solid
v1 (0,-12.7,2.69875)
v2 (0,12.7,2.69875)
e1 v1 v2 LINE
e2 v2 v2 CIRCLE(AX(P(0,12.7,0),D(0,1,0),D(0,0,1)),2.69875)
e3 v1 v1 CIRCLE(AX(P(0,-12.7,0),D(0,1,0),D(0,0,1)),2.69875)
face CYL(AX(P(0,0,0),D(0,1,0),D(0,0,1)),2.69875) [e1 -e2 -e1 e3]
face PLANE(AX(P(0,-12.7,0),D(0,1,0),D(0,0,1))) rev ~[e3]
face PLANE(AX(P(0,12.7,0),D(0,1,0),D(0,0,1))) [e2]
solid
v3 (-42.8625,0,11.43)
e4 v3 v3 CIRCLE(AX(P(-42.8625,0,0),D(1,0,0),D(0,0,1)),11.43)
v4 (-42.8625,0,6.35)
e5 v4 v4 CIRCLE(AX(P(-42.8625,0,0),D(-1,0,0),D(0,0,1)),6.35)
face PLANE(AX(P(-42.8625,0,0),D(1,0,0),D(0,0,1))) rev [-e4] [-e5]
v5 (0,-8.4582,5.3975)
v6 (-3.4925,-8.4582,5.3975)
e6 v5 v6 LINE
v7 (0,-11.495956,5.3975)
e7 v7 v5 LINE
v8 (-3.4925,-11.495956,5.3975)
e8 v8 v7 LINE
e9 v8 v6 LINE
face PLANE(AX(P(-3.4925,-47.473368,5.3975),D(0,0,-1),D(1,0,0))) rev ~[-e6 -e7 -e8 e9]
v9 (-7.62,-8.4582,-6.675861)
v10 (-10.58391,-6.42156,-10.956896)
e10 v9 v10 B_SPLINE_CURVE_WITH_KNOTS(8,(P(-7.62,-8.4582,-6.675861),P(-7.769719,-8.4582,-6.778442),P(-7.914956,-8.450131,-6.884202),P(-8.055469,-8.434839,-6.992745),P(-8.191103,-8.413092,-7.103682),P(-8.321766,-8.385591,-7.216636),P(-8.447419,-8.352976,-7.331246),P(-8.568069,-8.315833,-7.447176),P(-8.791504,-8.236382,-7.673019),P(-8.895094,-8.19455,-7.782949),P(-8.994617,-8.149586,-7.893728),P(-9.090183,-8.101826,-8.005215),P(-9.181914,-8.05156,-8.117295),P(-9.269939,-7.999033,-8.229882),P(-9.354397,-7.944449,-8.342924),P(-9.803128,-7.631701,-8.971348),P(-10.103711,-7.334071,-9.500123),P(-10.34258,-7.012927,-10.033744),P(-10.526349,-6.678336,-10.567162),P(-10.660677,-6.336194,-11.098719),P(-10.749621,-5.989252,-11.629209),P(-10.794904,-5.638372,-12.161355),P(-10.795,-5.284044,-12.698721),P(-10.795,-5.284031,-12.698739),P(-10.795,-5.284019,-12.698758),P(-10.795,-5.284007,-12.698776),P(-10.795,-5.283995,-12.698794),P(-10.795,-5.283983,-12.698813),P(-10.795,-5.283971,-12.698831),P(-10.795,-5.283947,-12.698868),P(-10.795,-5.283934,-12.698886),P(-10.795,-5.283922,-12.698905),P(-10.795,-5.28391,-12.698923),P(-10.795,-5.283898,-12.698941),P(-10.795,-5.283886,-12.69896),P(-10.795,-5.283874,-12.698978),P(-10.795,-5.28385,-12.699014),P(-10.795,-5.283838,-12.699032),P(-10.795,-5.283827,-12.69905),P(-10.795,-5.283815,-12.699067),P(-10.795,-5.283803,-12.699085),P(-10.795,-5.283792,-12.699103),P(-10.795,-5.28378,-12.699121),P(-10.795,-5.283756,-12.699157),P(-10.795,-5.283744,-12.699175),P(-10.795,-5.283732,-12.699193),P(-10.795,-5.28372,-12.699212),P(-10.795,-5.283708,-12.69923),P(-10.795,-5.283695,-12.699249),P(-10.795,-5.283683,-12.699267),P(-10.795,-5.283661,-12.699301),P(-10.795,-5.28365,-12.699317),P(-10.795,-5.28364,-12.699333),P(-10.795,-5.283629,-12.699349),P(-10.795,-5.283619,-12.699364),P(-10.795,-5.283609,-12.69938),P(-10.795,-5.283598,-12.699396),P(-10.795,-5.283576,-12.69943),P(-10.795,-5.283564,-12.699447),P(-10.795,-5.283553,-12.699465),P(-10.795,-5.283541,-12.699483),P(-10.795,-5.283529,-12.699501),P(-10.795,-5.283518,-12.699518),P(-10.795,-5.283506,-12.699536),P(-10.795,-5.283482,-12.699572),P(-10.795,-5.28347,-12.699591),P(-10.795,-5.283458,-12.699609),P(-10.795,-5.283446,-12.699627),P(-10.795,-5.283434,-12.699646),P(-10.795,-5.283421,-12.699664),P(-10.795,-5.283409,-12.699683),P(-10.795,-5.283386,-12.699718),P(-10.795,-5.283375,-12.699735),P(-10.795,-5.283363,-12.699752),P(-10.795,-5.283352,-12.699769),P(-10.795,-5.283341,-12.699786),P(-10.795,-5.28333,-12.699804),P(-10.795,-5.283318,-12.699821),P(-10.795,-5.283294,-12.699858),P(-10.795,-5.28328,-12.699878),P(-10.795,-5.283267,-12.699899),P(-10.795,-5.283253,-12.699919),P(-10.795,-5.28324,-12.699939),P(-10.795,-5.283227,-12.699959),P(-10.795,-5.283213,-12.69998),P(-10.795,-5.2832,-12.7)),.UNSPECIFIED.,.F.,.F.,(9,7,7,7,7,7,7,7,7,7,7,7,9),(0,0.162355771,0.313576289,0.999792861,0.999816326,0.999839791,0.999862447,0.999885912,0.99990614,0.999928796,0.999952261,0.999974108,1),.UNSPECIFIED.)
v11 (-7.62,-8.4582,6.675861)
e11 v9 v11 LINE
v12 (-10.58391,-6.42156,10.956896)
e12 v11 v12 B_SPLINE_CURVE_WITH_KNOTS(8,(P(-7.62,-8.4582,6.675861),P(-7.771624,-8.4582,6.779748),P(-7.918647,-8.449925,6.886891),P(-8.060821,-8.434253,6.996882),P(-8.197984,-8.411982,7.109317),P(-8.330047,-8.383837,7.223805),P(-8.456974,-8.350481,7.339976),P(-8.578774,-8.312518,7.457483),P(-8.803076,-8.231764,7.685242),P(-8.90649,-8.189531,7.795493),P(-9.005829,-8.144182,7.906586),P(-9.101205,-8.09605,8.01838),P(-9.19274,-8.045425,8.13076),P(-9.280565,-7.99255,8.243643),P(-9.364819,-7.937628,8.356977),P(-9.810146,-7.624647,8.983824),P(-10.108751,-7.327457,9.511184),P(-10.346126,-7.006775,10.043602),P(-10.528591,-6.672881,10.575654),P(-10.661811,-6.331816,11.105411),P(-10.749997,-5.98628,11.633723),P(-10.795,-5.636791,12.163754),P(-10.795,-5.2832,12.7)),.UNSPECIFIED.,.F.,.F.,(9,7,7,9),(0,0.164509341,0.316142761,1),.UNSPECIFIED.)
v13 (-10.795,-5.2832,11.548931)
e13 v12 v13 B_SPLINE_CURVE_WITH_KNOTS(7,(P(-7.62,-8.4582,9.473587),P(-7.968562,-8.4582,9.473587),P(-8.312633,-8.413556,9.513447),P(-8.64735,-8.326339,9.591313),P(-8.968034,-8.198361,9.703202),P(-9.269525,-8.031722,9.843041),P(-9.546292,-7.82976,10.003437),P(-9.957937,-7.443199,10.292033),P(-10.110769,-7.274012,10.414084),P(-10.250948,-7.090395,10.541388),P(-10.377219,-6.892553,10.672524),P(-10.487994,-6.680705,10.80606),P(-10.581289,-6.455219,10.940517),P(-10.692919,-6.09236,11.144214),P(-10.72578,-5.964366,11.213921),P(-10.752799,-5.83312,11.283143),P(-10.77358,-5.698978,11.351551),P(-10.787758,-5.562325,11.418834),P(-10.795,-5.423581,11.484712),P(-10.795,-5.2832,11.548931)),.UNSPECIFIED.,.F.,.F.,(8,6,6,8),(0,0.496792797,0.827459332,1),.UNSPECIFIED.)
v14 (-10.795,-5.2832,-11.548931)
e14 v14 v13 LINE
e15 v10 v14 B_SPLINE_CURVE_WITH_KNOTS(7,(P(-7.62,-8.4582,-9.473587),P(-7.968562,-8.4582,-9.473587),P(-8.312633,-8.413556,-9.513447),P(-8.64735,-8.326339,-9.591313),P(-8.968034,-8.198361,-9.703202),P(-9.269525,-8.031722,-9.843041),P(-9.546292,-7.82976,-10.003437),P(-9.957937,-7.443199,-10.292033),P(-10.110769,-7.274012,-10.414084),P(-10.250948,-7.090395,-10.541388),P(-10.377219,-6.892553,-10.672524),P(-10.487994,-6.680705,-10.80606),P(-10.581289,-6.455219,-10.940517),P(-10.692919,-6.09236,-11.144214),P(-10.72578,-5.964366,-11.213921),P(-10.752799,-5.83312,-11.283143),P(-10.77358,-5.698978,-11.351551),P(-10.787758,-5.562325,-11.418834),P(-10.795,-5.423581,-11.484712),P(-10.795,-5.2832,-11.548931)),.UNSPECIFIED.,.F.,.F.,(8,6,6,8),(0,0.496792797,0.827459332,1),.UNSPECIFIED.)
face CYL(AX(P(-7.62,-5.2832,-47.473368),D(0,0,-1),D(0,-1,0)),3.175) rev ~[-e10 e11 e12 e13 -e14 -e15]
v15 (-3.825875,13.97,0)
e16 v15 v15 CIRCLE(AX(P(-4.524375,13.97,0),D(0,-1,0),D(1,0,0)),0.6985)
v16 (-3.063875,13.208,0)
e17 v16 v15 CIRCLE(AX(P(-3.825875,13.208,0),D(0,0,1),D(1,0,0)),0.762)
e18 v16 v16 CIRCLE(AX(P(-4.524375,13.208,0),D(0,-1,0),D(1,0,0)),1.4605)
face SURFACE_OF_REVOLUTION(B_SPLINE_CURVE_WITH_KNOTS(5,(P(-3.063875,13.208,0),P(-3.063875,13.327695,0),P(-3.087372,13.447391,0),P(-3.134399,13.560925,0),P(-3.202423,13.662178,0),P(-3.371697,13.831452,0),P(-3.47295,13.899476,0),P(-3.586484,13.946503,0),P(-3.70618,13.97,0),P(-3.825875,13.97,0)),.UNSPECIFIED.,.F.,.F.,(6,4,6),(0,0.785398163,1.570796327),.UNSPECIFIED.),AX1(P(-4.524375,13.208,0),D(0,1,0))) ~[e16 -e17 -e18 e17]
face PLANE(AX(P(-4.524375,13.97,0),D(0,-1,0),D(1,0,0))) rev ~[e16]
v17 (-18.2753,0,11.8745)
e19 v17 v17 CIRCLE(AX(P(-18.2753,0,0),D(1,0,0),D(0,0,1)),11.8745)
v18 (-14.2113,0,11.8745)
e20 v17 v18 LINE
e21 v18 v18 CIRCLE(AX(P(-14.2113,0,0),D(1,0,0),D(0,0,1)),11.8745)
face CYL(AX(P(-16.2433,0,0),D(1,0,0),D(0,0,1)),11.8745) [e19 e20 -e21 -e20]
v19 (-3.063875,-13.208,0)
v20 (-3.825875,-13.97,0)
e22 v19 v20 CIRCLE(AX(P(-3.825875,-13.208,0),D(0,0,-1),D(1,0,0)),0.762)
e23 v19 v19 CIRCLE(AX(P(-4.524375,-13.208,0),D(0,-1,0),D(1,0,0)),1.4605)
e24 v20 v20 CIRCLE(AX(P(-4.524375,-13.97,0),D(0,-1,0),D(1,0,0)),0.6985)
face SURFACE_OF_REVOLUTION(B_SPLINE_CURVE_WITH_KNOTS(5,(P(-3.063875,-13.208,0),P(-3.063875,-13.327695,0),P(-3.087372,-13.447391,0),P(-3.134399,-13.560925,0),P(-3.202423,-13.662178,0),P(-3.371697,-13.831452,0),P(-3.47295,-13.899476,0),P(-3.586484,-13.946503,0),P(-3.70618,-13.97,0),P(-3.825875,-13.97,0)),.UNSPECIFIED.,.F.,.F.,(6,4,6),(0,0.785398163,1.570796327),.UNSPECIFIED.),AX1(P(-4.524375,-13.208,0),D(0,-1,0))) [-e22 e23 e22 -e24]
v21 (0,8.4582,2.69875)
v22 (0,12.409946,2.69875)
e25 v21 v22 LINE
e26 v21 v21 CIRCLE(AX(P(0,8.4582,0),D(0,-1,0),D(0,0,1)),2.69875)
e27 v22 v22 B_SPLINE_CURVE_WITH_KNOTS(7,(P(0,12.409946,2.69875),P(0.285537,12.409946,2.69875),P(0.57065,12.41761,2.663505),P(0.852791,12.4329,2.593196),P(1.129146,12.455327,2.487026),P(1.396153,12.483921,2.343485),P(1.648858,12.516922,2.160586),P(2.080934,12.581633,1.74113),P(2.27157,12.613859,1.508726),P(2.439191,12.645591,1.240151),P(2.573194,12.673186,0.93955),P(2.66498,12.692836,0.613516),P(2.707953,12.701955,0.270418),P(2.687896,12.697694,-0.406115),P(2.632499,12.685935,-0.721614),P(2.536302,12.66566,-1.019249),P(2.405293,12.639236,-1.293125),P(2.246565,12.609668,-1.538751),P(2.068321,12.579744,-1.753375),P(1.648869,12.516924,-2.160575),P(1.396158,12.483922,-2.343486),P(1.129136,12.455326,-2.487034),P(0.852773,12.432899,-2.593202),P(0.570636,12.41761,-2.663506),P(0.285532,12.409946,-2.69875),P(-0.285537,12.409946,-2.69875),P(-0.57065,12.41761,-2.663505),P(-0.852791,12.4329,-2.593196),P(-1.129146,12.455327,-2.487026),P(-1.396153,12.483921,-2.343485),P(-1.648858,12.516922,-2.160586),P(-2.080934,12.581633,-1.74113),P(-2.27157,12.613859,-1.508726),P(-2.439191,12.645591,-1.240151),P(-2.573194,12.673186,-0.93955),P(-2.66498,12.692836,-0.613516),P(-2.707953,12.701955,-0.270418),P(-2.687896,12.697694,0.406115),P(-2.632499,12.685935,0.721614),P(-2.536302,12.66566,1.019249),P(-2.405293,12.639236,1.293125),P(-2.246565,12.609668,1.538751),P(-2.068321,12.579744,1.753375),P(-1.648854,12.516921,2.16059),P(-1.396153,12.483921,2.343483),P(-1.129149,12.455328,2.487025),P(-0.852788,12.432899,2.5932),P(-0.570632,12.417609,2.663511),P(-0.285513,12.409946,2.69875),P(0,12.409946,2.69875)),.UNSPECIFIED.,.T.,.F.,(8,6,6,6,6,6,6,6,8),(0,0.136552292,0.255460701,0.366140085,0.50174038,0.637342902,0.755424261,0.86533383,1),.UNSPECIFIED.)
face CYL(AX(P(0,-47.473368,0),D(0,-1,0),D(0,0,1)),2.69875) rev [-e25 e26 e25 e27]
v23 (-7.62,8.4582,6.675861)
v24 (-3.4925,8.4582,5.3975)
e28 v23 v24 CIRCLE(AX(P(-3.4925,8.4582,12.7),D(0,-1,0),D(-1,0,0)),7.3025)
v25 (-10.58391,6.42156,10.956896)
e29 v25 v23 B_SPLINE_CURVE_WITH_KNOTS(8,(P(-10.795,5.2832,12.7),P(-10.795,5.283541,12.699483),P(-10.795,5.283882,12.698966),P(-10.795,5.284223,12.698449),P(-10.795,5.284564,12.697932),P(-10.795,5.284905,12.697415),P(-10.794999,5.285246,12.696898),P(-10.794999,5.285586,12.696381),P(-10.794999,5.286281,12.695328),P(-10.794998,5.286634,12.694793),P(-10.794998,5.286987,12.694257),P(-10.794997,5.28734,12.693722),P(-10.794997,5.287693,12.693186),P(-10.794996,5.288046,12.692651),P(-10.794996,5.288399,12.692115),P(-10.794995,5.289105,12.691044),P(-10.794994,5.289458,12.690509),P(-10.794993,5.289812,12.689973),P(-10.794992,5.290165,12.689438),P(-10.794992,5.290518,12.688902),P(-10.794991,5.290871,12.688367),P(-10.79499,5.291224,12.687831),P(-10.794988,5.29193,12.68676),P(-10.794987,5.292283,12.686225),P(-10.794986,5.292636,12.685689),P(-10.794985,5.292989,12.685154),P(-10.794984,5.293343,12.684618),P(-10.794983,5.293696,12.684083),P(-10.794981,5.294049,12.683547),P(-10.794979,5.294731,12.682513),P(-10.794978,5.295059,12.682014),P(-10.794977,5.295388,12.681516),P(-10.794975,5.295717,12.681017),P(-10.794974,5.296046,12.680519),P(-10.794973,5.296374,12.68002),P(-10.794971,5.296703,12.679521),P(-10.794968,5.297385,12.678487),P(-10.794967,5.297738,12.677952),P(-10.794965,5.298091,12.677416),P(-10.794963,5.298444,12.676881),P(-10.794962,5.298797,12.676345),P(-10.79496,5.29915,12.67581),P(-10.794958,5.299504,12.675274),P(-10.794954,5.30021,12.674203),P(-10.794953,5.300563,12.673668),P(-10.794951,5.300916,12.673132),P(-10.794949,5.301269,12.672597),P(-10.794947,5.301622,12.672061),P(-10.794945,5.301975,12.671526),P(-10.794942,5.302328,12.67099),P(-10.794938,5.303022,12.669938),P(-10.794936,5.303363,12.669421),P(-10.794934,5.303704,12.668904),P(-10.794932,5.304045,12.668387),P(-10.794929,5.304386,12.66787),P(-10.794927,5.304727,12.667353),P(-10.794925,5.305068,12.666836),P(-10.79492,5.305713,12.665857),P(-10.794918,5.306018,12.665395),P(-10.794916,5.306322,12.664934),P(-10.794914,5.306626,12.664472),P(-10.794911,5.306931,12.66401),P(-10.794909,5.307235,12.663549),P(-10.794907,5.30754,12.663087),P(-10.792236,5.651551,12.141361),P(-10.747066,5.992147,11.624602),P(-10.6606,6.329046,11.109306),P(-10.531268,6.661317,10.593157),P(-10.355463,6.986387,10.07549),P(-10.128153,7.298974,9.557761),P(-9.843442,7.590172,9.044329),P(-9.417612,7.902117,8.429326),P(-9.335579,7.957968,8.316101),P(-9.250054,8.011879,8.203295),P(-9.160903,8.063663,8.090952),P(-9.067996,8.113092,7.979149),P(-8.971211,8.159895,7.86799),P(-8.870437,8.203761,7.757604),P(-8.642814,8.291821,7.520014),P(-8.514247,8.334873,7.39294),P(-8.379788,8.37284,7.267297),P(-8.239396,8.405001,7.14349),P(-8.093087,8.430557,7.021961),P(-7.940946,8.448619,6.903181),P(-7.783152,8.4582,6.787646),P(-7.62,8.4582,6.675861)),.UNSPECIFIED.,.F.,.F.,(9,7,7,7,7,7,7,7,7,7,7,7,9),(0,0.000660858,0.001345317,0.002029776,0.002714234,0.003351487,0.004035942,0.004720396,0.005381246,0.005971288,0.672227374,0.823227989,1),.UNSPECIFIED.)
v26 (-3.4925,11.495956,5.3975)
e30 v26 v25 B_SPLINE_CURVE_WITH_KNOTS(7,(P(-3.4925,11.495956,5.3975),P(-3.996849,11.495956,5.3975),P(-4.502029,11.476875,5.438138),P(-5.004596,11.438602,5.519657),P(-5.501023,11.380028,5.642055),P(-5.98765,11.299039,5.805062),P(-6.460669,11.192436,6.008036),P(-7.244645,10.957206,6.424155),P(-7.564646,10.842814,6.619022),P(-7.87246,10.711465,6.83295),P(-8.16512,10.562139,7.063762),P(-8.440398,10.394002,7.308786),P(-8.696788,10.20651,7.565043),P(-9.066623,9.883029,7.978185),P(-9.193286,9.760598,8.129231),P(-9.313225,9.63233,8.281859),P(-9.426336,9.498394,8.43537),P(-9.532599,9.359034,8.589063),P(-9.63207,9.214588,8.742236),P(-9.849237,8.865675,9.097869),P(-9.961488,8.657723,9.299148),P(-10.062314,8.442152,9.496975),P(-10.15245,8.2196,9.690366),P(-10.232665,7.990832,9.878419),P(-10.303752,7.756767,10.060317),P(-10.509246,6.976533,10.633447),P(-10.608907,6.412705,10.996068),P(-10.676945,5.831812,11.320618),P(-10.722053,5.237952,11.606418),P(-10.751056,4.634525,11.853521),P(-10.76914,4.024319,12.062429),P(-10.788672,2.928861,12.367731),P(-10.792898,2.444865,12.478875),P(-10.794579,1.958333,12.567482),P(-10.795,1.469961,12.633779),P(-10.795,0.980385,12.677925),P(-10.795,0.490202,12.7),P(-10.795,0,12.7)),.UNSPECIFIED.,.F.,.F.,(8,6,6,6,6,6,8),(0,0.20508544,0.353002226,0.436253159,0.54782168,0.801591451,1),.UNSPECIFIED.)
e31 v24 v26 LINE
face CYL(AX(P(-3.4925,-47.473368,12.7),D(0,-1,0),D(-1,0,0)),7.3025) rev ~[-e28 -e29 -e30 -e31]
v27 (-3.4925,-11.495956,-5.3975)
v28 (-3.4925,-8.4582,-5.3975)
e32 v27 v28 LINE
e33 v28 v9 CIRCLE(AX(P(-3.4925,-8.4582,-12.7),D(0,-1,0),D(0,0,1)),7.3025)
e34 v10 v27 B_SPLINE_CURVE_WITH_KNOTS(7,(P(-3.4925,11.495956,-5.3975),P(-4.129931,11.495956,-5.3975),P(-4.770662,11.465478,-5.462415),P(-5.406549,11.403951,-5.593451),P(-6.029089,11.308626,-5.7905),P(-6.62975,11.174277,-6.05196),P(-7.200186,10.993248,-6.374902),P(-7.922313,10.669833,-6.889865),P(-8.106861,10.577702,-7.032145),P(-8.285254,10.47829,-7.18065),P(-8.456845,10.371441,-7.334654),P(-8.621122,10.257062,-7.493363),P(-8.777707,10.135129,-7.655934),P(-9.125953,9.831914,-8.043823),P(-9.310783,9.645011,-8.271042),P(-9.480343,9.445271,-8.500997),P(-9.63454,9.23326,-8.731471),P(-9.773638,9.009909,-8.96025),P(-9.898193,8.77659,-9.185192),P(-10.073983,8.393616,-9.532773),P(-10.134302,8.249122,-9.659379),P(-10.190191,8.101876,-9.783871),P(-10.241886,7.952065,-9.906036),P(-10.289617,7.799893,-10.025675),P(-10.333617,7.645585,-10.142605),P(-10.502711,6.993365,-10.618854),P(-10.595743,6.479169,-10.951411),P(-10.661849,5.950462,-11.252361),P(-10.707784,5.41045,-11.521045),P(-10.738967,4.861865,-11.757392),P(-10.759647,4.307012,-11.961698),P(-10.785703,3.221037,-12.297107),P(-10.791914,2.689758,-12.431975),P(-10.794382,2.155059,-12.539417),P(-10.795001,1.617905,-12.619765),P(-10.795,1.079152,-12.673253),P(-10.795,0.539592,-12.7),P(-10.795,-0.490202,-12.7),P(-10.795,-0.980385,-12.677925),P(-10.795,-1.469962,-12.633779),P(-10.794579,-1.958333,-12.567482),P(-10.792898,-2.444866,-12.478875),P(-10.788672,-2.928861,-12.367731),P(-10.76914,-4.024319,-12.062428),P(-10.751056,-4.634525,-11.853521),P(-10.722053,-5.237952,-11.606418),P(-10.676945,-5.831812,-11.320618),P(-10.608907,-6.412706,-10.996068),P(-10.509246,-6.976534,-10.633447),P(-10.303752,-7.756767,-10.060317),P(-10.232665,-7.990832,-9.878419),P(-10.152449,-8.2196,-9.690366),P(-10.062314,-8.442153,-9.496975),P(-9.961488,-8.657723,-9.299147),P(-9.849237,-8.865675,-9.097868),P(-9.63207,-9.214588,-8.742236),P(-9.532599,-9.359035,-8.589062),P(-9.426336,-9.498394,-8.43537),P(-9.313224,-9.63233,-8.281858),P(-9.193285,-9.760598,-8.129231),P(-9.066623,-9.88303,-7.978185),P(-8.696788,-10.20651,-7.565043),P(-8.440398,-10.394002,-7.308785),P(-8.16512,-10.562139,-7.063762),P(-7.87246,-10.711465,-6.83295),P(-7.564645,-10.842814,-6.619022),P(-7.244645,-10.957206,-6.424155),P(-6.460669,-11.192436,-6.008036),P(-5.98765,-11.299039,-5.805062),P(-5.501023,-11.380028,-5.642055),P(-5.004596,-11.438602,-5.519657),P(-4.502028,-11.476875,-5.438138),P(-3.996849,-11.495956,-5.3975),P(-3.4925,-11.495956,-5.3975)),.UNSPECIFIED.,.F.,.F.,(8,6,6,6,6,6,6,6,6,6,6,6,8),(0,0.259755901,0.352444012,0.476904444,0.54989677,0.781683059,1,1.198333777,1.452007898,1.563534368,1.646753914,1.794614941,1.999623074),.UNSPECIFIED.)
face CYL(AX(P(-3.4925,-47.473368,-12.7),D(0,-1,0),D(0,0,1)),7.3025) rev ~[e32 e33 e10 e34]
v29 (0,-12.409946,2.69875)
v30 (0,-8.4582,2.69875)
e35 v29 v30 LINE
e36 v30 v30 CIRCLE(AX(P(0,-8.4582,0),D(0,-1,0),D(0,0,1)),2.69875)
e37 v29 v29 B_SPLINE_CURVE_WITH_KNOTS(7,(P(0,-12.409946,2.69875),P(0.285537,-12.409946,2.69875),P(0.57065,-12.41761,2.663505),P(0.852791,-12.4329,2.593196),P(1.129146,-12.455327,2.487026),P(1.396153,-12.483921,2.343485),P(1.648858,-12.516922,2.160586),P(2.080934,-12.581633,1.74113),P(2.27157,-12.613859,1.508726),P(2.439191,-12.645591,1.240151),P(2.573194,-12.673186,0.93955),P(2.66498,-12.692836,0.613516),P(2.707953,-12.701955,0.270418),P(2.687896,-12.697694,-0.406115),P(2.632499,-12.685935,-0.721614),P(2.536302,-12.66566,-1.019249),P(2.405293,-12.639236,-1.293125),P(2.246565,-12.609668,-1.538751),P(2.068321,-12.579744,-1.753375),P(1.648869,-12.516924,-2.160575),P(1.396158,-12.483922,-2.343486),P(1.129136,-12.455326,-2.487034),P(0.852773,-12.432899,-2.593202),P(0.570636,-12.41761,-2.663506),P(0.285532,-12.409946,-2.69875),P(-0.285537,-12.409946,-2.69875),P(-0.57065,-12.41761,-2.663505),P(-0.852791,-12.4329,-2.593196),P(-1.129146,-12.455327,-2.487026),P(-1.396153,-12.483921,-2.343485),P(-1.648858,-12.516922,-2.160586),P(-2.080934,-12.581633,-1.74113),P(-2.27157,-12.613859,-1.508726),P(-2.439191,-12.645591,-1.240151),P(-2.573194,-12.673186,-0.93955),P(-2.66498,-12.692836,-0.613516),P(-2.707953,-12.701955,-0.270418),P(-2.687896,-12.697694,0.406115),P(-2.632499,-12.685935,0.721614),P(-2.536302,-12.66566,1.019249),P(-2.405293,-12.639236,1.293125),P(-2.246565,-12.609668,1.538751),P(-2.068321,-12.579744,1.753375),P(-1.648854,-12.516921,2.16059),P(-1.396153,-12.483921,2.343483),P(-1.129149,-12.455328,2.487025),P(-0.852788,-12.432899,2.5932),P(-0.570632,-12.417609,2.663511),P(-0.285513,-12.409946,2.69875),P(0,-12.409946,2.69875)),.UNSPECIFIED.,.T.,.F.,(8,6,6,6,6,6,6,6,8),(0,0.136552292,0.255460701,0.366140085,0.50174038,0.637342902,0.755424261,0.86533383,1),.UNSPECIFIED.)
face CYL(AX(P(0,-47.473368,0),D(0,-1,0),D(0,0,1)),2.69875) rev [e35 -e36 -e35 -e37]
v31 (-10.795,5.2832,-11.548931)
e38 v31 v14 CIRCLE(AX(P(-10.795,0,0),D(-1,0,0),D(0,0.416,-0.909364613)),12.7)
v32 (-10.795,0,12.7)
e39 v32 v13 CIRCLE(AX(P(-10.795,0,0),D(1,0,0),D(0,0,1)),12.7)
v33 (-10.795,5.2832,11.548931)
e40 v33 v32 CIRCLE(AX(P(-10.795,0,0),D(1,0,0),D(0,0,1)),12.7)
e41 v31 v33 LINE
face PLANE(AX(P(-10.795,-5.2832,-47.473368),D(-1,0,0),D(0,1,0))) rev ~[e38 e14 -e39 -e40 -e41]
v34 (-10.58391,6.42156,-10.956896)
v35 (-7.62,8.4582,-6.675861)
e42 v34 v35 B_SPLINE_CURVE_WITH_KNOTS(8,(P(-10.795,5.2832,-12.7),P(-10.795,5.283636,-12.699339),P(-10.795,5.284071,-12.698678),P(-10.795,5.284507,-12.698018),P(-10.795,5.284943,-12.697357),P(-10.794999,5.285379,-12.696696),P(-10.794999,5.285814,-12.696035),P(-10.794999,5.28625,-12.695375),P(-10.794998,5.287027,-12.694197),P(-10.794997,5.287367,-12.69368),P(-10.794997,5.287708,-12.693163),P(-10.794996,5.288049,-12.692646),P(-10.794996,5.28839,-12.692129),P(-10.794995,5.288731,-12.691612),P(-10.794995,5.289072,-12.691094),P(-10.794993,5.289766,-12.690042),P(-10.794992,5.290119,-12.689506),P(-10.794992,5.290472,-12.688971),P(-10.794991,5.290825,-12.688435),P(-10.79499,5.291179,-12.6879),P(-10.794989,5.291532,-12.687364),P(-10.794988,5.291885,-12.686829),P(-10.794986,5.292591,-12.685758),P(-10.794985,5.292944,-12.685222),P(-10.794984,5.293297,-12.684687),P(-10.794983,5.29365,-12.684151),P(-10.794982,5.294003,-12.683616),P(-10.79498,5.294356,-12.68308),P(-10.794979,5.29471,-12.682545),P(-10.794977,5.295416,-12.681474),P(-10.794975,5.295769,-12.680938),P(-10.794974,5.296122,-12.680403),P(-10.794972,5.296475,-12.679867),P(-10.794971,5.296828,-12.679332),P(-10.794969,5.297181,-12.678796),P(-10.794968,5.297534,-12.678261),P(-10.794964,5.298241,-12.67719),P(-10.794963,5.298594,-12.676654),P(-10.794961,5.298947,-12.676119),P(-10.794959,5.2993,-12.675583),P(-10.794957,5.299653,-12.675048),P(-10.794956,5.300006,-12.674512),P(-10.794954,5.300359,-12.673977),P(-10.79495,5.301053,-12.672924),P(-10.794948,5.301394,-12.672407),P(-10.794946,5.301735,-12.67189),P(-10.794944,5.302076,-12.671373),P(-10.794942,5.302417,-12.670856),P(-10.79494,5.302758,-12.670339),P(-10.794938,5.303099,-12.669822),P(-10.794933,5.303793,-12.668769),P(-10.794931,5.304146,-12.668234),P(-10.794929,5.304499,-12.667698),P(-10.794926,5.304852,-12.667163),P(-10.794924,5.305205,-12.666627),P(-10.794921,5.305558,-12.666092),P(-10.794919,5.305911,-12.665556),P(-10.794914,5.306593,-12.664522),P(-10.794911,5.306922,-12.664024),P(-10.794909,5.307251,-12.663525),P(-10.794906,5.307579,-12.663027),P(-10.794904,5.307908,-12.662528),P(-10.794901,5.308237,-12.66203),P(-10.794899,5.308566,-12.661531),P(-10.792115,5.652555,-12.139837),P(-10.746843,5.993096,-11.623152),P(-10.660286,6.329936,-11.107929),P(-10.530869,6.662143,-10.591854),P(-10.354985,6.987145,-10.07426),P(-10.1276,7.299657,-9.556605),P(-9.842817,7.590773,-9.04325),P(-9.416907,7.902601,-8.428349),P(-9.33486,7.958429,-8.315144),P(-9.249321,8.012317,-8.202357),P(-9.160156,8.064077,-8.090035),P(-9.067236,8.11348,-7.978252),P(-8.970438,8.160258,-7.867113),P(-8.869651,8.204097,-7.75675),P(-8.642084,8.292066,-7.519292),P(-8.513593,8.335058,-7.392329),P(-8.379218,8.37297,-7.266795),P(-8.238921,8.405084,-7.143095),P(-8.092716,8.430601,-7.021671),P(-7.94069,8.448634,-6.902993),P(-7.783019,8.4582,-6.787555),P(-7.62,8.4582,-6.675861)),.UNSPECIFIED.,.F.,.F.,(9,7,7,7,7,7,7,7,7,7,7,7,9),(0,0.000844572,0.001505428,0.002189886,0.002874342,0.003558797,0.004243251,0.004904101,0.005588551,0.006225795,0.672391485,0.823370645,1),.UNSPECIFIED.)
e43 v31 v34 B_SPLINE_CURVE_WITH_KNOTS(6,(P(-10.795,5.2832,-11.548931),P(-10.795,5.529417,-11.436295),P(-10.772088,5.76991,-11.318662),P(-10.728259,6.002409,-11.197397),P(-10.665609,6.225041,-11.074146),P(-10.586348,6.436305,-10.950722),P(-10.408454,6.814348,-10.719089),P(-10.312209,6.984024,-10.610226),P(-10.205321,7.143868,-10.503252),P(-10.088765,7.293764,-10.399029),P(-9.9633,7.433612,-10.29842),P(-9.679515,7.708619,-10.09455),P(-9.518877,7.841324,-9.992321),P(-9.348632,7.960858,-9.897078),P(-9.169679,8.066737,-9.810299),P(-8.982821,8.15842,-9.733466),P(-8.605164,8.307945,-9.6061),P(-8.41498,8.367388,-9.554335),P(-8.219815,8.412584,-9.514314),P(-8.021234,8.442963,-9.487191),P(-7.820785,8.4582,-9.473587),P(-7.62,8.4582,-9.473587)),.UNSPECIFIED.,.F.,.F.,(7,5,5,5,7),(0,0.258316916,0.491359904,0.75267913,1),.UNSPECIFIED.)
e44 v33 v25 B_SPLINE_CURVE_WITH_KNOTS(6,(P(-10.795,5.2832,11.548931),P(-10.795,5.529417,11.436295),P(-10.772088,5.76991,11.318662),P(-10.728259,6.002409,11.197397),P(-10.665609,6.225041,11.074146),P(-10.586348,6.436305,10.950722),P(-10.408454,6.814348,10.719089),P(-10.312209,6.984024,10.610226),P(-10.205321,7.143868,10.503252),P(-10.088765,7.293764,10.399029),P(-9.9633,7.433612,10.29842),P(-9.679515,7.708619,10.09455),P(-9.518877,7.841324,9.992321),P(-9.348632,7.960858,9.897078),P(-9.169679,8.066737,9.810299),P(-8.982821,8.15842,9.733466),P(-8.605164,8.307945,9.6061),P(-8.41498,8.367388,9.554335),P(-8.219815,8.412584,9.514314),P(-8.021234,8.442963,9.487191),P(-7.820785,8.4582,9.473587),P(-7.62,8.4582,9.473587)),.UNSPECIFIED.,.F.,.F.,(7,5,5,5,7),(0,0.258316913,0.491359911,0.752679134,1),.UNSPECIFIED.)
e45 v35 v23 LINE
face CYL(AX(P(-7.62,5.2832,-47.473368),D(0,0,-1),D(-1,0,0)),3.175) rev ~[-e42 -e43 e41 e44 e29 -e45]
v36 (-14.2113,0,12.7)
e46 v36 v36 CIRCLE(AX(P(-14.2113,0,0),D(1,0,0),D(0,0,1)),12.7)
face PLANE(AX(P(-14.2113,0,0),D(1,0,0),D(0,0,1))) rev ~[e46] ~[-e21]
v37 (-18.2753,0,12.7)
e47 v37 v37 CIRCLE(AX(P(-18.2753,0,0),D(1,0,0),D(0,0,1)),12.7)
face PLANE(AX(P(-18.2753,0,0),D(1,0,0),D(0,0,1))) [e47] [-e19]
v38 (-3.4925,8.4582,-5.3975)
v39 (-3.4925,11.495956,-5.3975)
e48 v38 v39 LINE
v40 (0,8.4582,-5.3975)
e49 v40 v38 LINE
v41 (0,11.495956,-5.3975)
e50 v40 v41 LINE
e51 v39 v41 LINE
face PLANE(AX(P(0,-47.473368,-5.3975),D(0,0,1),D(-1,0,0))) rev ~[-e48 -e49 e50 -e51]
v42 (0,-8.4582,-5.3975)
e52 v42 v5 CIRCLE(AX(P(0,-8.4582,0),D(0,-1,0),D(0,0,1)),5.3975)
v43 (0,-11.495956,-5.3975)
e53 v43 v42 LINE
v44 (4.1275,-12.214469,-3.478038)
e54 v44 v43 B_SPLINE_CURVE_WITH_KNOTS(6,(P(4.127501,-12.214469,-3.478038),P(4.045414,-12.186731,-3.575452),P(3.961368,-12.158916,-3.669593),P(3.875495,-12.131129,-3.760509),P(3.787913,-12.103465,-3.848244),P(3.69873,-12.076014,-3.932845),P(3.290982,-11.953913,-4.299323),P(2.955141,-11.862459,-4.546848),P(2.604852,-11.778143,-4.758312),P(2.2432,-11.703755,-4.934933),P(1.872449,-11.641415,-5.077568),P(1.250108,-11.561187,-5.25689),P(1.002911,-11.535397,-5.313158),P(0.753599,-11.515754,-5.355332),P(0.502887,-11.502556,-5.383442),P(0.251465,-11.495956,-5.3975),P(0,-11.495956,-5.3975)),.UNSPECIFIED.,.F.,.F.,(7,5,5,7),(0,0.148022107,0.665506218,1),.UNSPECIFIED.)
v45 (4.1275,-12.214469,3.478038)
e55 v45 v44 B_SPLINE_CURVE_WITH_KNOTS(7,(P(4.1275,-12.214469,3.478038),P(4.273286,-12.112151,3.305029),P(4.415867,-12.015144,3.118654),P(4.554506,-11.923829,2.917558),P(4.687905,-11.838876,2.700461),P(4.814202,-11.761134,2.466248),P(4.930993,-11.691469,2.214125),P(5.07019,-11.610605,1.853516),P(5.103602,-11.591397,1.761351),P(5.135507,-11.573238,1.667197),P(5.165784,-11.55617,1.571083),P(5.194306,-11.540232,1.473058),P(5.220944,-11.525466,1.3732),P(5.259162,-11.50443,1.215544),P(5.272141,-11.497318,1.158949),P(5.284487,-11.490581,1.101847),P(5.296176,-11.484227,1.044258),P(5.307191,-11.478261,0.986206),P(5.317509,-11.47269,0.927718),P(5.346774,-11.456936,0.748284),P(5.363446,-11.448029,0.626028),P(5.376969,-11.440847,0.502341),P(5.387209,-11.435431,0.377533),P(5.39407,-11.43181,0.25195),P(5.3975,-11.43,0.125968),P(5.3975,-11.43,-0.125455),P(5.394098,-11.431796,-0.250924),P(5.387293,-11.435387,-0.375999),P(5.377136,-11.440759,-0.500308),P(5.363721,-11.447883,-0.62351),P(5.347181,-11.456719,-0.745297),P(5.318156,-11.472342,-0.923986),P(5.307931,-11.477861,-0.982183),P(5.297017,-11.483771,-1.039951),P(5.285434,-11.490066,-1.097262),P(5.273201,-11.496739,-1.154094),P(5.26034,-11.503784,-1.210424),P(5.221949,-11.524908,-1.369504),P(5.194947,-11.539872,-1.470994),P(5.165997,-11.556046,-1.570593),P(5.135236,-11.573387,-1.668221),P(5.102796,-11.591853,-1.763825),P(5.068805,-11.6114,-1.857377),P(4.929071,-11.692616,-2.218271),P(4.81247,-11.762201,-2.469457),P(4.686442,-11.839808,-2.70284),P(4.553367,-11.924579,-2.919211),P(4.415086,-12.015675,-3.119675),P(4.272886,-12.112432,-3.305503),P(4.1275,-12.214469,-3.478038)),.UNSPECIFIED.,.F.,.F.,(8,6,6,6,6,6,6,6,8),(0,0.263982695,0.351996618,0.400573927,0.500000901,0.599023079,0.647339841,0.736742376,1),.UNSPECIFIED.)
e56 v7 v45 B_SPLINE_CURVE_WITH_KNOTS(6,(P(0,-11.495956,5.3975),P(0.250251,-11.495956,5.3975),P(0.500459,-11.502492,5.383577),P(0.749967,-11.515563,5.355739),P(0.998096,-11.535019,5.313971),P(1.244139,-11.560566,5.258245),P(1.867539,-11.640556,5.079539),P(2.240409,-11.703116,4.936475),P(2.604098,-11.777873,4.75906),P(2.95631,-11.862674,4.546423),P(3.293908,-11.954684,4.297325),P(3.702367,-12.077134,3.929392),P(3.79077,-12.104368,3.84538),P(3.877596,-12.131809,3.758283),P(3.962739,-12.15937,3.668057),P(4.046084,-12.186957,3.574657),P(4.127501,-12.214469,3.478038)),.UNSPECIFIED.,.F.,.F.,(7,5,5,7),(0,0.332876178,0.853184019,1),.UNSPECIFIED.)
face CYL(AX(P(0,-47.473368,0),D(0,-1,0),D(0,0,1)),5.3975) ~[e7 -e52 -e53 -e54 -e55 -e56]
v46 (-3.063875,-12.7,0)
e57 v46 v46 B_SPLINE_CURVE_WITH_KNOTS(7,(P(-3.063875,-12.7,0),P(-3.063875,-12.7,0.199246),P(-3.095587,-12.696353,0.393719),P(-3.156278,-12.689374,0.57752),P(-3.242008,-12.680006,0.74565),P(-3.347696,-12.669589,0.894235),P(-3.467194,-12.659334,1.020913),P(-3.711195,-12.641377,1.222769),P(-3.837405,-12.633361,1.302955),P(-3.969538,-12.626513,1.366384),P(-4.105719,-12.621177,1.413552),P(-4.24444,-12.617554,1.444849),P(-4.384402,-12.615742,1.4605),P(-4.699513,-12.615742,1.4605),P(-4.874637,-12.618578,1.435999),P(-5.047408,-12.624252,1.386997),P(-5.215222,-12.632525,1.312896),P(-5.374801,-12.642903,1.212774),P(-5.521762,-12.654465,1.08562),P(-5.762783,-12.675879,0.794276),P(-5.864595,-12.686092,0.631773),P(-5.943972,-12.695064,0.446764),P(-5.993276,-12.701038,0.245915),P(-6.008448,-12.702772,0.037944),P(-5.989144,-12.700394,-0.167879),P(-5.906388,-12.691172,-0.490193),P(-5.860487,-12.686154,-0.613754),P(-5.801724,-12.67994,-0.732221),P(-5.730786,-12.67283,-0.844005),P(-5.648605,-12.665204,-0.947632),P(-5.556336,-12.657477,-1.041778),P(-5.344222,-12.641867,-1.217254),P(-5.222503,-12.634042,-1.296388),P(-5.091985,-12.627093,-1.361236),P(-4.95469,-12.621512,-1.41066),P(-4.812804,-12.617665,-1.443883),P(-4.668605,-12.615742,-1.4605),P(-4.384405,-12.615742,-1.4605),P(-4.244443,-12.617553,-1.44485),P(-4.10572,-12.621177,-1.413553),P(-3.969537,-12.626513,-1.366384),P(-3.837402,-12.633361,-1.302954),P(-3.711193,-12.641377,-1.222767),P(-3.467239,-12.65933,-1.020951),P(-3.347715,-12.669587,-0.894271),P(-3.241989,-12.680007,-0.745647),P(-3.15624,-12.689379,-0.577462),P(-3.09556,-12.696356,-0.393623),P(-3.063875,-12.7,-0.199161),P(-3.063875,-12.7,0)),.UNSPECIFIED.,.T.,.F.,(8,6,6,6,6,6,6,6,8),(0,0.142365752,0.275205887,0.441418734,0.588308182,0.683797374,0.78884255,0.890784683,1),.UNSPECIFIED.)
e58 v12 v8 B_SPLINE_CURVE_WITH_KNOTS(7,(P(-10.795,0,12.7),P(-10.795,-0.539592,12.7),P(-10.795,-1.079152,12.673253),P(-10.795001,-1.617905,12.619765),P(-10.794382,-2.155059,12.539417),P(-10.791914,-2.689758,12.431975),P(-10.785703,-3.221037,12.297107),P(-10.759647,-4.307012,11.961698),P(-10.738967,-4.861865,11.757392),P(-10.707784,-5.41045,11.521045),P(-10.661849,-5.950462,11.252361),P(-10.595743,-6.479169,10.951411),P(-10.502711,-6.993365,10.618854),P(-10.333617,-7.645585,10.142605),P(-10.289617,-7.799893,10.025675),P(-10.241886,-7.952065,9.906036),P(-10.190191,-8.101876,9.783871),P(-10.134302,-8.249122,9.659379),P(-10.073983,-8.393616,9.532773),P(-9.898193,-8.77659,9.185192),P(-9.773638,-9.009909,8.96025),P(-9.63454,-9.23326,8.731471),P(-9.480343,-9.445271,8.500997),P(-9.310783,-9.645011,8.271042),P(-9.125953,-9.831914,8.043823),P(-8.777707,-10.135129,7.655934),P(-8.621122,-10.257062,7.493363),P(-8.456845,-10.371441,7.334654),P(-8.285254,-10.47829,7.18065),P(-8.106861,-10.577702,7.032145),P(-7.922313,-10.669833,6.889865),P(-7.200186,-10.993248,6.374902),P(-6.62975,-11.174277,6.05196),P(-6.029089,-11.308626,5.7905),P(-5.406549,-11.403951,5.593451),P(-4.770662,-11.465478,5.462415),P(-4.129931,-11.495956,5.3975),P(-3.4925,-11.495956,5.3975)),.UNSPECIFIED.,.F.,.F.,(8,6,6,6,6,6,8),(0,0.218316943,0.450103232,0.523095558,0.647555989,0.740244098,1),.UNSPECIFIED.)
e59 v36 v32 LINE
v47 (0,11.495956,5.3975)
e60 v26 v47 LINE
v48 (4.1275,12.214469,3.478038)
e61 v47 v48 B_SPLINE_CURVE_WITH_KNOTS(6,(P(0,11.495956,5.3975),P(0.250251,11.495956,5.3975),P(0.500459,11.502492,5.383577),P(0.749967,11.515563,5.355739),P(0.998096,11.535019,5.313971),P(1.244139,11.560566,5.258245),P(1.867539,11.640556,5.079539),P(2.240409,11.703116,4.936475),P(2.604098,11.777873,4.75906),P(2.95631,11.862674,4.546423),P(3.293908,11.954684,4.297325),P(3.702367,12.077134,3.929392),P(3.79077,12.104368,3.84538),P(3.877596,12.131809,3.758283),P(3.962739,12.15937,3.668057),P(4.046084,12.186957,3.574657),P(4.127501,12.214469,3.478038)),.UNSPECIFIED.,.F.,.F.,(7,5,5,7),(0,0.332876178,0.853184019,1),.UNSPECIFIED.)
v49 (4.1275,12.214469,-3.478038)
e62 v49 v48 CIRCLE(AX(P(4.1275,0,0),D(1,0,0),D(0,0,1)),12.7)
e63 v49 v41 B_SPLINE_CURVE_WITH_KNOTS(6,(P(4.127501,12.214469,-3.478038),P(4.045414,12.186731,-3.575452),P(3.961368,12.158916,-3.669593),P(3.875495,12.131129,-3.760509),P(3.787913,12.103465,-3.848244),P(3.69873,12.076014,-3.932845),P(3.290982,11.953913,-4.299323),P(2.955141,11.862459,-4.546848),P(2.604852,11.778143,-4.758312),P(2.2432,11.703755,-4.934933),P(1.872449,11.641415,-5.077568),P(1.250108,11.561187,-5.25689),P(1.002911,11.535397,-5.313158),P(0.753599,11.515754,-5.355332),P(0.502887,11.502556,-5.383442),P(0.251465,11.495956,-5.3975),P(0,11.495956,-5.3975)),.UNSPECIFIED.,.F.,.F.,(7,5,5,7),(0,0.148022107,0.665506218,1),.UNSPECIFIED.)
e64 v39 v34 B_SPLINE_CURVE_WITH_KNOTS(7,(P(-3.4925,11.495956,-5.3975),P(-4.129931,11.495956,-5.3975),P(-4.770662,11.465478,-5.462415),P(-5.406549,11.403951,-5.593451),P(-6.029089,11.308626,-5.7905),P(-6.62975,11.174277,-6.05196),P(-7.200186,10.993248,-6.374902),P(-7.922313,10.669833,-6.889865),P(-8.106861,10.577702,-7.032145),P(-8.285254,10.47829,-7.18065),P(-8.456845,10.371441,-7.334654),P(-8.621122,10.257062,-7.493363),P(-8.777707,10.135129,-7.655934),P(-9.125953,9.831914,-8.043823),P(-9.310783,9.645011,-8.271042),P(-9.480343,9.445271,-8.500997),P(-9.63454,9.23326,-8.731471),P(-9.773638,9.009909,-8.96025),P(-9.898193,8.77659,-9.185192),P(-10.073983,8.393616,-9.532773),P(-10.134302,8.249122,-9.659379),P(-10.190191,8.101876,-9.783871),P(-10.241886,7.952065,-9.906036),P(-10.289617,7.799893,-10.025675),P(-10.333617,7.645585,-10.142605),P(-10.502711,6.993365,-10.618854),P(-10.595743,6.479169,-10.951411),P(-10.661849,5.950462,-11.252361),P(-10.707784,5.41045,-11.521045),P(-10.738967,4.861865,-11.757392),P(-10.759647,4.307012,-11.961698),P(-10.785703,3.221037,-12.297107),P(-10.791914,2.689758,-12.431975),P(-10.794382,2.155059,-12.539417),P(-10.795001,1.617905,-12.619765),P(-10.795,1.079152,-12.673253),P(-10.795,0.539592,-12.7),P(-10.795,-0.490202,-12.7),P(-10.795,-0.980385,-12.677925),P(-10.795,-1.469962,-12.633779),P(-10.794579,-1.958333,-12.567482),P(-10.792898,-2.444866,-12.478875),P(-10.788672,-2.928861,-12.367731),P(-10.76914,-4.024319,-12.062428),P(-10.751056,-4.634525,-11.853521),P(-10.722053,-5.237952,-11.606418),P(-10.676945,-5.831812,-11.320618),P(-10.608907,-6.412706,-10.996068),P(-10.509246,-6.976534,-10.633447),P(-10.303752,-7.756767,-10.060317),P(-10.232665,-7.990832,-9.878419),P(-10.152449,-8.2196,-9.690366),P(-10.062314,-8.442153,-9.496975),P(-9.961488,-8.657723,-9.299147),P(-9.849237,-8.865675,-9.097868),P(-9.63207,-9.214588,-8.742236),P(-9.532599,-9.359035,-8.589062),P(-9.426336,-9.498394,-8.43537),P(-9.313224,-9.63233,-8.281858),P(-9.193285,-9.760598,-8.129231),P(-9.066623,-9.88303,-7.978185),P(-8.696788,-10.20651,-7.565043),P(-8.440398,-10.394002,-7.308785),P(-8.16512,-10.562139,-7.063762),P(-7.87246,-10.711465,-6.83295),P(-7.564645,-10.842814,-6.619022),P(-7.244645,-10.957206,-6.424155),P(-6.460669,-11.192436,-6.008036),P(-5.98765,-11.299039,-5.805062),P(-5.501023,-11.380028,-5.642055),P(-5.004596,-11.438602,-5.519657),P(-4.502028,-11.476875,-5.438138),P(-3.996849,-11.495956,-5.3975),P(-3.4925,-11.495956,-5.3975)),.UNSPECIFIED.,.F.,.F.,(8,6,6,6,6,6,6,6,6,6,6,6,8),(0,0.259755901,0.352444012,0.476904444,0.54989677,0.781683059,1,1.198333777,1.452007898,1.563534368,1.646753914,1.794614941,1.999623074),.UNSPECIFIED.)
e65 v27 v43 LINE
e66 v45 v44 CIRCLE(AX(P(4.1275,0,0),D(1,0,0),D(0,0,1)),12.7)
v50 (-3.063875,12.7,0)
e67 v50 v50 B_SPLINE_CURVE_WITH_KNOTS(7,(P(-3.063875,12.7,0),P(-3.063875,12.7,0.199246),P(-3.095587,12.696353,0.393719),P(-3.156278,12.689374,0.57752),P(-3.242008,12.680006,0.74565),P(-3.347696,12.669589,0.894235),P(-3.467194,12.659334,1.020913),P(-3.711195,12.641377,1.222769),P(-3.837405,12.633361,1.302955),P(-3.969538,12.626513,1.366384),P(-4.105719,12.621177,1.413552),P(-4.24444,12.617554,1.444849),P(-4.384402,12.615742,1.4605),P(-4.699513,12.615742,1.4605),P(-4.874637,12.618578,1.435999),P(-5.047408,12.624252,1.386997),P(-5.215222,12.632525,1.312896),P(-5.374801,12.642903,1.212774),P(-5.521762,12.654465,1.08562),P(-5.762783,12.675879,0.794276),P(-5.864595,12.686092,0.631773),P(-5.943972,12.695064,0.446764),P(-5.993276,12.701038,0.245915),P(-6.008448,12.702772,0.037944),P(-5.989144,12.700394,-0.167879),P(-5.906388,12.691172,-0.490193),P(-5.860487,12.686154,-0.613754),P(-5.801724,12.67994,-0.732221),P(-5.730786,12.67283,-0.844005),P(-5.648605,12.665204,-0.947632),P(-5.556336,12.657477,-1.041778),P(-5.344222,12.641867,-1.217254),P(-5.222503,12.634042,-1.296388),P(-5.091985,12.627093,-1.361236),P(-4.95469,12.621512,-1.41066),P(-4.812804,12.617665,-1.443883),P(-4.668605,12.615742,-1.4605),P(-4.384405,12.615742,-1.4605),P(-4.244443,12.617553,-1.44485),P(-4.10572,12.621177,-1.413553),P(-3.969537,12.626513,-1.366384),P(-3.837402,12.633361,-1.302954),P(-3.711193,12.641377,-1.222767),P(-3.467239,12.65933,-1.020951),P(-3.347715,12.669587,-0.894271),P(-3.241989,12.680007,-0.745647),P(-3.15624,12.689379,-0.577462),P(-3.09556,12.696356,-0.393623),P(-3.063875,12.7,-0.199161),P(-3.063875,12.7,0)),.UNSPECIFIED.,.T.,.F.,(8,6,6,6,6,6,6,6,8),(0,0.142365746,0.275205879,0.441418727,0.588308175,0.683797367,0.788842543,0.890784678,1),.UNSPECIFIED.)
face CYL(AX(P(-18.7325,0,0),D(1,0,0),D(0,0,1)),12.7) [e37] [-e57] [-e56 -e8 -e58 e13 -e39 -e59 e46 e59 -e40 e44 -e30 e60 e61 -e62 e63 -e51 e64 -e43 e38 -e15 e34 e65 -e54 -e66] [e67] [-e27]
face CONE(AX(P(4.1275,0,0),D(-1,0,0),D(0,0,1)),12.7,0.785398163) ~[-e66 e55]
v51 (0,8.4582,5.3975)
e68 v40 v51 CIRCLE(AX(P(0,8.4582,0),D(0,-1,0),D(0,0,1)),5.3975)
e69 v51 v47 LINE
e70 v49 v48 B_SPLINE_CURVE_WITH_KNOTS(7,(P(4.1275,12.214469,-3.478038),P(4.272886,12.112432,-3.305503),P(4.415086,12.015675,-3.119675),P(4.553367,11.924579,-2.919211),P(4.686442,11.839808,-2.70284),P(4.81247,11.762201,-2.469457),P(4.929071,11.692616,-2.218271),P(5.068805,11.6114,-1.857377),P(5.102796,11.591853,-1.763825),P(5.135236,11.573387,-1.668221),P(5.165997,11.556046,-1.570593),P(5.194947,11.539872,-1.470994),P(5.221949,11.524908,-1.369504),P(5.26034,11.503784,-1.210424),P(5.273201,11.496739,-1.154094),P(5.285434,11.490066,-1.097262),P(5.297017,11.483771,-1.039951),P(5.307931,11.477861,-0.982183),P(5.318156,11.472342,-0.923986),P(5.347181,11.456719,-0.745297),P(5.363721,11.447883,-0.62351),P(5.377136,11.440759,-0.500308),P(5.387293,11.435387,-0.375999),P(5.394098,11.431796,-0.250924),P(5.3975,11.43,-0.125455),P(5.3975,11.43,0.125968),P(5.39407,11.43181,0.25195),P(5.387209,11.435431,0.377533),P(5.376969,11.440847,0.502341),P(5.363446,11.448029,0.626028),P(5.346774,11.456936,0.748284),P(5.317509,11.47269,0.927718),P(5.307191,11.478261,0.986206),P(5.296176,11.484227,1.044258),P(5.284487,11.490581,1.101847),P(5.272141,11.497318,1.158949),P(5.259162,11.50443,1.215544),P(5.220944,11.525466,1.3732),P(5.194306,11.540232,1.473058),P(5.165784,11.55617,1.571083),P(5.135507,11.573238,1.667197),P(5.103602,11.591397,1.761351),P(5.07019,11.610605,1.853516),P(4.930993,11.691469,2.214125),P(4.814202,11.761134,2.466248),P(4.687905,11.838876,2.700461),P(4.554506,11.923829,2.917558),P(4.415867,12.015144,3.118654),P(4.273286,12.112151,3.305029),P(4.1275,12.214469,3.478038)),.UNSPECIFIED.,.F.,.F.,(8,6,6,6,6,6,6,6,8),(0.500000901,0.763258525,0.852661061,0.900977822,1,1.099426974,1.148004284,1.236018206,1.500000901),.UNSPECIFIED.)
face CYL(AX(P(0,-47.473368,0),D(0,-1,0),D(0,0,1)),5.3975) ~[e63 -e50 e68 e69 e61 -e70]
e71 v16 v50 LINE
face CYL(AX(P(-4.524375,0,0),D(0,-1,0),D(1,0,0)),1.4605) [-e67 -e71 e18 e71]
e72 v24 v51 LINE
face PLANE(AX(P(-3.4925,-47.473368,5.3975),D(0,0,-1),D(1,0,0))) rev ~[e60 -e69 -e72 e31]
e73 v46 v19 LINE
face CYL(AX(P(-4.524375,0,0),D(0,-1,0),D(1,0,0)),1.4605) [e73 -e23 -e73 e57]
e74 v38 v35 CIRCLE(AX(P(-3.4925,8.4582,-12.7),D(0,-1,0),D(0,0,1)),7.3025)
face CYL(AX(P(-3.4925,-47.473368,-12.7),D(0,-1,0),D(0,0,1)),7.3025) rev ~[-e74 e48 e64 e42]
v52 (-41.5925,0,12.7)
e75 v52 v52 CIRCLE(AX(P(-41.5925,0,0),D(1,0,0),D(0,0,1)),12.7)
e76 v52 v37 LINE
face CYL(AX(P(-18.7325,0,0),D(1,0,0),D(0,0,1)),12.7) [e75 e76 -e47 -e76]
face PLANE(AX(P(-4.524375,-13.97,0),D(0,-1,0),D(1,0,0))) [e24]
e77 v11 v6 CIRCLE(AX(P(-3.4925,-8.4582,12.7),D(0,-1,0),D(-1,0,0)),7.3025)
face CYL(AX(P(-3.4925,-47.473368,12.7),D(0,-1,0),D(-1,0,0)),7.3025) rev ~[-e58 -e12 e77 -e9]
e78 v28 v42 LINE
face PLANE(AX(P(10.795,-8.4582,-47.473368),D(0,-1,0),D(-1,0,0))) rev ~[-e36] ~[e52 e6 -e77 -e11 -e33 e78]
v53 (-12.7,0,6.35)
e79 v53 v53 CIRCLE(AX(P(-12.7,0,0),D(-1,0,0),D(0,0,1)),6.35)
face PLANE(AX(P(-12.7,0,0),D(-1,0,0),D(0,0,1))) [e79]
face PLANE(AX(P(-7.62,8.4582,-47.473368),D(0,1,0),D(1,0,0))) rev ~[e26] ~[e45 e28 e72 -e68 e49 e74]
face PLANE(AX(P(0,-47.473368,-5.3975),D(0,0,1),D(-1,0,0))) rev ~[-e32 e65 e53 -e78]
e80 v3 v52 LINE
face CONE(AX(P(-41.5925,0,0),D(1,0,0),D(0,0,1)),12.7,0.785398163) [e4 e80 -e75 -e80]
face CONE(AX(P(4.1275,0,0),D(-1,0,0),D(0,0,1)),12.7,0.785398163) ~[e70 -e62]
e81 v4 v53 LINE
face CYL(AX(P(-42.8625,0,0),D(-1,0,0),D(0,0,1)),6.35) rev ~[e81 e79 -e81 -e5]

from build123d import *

# Parameters (mm, degrees)
SKETCH1_W               = 48.26
SKETCH1_H               = 12.7
CHAMFER1_SIZE           = 1.27
EXTRUDE1_DEPTH          = 47.473367709
EXTRUDE1_DEPTH_BACK     = 47.473367709
SKETCH4_R               = 6.35
EXTRUDE4_DEPTH          = 30.1625
EXTRUDE3_DEPTH          = 47.473367764
EXTRUDE3_DEPTH_BACK     = 47.473367764
EXTRUDE6_DEPTH          = 47.473367764
EXTRUDE6_DEPTH_BACK     = 47.473367764
SKETCH6_R               = 2.69875
SKETCH21_R              = 1.4605
BOSS_EXTRUDE1_DEPTH     = 13.97
FILLET1_R               = 0.762
CUT_EXTRUDE3_DEPTH      = 47.836362066
CUT_EXTRUDE3_DEPTH_BACK = 47.836362066
SKETCH23_W              = 4.064
SKETCH23_H              = 0.8255
SKETCH14_R              = 2.69875
EXTRUDE14_DEPTH         = 12.7


with BuildPart() as part:
    # Sketch1 → Revolve1 (revolve)
    with BuildSketch(Plane(origin=(0, 0, 0), x_dir=(1, 0, 0), z_dir=(0, 1, 0)), mode=Mode.PRIVATE) as revolve1_sk:
        with Locations((-18.7325, 6.35)):
            Rectangle(SKETCH1_W, SKETCH1_H)
    revolve(revolve1_sk.sketch.rotate(Axis((-42.8625, 0, 0), (1, 0, 0)), 180), axis=Axis((-42.8625, 0, 0), (1, 0, 0)))

    # Chamfer1
    chamfer1_edges = [part.edges().sort_by_distance(p)[0] for p in [
        (5.3975, 0, -12.7),
        (-42.8625, 0, -12.7),
    ]]
    chamfer(chamfer1_edges, length=CHAMFER1_SIZE)

    # Sketch2 → Extrude1 (cut, two sides: drawn at the far end of the back side and taken through both)
    with BuildSketch(Plane(origin=(0, 0, 0), x_dir=(1, 0, 0), z_dir=(0, 1, 0)).offset(-EXTRUDE1_DEPTH_BACK)):
        with BuildLine():
            Line((-10.795, 12.7), (10.795, 12.7))
            Line((10.795, 12.7), (10.795, -12.7))
            Line((10.795, -12.7), (-10.795, -12.7))
            ThreePointArc((-10.795, -12.7), (-8.65614727, -7.53635273), (-3.4925, -5.3975))
            Line((-3.4925, -5.3975), (0, -5.3975))
            ThreePointArc((0, -5.3975), (5.3975, 0), (0, 5.3975))
            Line((0, 5.3975), (-3.4925, 5.3975))
            ThreePointArc((-3.4925, 5.3975), (-8.65614727, 7.53635273), (-10.795, 12.7))
        make_face()
    extrude(amount=EXTRUDE1_DEPTH + EXTRUDE1_DEPTH_BACK, mode=Mode.SUBTRACT)

    # Sketch4 → Extrude4 (cut)
    with BuildSketch(Plane.ZY.offset(42.8625)):
        Circle(SKETCH4_R)
    extrude(amount=-EXTRUDE4_DEPTH, mode=Mode.SUBTRACT)

    # Sketch3 → Extrude3 (cut, two sides: drawn at the far end of the back side and taken through both)
    with BuildSketch(Plane.XY.offset(-EXTRUDE3_DEPTH_BACK)):
        with BuildLine():
            Line((-7.62, 8.4582), (10.795, 8.4582))
            Line((10.795, 8.4582), (10.795, -8.4582))
            Line((10.795, -8.4582), (-7.62, -8.4582))
            ThreePointArc((-7.62, -8.4582), (-9.86506403, -7.52826403), (-10.795, -5.2832))
            Line((-10.795, -5.2832), (-10.795, 5.2832))
            ThreePointArc((-10.795, 5.2832), (-9.86506403, 7.52826403), (-7.62, 8.4582))
        make_face()
    extrude(amount=EXTRUDE3_DEPTH + EXTRUDE3_DEPTH_BACK, mode=Mode.SUBTRACT)

    # Sketch6 → Extrude6 (cut, two sides: drawn at the far end of the back side and taken through both)
    with BuildSketch(Plane(origin=(0, 0, 0), x_dir=(1, 0, 0), z_dir=(0, 1, 0)).offset(-EXTRUDE6_DEPTH_BACK)):
        with Locations(Location((0, 0, 0), (0, 0, 270))):
            Circle(SKETCH6_R)
    extrude(amount=EXTRUDE6_DEPTH + EXTRUDE6_DEPTH_BACK, mode=Mode.SUBTRACT)

    # Sketch21 → Boss-Extrude1 (add, symmetric)
    with BuildSketch(Plane.XZ):
        with Locations((-4.524375, 0)):
            Circle(SKETCH21_R)
    extrude(amount=BOSS_EXTRUDE1_DEPTH, both=True)

    # Fillet1
    fillet1_edges = [part.edges().sort_by_distance(p)[0] for p in [
        (-5.984875, 13.97, 0),
        (-5.984875, -13.97, 0),
    ]]
    fillet(fillet1_edges, radius=FILLET1_R)

    # Sketch22 → Cut-Extrude3 (cut, two sides: drawn at the far end of the back side and taken through both)
    with BuildSketch(Plane.XY.offset(-CUT_EXTRUDE3_DEPTH_BACK)):
        with BuildLine():
            Line((10.795, 8.4582), (-7.62, 8.4582))
            ThreePointArc((-7.62, 8.4582), (-9.86506403, 7.52826403), (-10.795, 5.2832))
            Line((-10.795, 5.2832), (-10.795, -5.2832))
            ThreePointArc((-10.795, -5.2832), (-9.86506403, -7.52826403), (-7.62, -8.4582))
            Line((-7.62, -8.4582), (10.795, -8.4582))
            Line((10.795, -8.4582), (10.795, 8.4582))
        make_face()
    extrude(amount=CUT_EXTRUDE3_DEPTH + CUT_EXTRUDE3_DEPTH_BACK, mode=Mode.SUBTRACT)

    # Sketch23 → Cut-Revolve1 (revolve, cut)
    with BuildSketch(Plane(origin=(0, 0, 0), x_dir=(1, 0, 0), z_dir=(0, 1, 0))):
        with Locations((-16.2433, -12.28725)):
            Rectangle(SKETCH23_W, SKETCH23_H)
    revolve(axis=Axis((-42.8625, 0, 0), (1, 0, 0)), mode=Mode.SUBTRACT)


with BuildPart() as body_2:
    # Sketch14 → Extrude14 (new, symmetric)
    with BuildSketch(Plane(origin=(0, 0, 0), x_dir=(1, 0, 0), z_dir=(0, 1, 0))):
        with Locations(Location((0, 0, 0), (0, 0, 270))):
            Circle(SKETCH14_R)
    extrude(amount=EXTRUDE14_DEPTH, both=True)


solid = Compound([part.part, body_2.part])
